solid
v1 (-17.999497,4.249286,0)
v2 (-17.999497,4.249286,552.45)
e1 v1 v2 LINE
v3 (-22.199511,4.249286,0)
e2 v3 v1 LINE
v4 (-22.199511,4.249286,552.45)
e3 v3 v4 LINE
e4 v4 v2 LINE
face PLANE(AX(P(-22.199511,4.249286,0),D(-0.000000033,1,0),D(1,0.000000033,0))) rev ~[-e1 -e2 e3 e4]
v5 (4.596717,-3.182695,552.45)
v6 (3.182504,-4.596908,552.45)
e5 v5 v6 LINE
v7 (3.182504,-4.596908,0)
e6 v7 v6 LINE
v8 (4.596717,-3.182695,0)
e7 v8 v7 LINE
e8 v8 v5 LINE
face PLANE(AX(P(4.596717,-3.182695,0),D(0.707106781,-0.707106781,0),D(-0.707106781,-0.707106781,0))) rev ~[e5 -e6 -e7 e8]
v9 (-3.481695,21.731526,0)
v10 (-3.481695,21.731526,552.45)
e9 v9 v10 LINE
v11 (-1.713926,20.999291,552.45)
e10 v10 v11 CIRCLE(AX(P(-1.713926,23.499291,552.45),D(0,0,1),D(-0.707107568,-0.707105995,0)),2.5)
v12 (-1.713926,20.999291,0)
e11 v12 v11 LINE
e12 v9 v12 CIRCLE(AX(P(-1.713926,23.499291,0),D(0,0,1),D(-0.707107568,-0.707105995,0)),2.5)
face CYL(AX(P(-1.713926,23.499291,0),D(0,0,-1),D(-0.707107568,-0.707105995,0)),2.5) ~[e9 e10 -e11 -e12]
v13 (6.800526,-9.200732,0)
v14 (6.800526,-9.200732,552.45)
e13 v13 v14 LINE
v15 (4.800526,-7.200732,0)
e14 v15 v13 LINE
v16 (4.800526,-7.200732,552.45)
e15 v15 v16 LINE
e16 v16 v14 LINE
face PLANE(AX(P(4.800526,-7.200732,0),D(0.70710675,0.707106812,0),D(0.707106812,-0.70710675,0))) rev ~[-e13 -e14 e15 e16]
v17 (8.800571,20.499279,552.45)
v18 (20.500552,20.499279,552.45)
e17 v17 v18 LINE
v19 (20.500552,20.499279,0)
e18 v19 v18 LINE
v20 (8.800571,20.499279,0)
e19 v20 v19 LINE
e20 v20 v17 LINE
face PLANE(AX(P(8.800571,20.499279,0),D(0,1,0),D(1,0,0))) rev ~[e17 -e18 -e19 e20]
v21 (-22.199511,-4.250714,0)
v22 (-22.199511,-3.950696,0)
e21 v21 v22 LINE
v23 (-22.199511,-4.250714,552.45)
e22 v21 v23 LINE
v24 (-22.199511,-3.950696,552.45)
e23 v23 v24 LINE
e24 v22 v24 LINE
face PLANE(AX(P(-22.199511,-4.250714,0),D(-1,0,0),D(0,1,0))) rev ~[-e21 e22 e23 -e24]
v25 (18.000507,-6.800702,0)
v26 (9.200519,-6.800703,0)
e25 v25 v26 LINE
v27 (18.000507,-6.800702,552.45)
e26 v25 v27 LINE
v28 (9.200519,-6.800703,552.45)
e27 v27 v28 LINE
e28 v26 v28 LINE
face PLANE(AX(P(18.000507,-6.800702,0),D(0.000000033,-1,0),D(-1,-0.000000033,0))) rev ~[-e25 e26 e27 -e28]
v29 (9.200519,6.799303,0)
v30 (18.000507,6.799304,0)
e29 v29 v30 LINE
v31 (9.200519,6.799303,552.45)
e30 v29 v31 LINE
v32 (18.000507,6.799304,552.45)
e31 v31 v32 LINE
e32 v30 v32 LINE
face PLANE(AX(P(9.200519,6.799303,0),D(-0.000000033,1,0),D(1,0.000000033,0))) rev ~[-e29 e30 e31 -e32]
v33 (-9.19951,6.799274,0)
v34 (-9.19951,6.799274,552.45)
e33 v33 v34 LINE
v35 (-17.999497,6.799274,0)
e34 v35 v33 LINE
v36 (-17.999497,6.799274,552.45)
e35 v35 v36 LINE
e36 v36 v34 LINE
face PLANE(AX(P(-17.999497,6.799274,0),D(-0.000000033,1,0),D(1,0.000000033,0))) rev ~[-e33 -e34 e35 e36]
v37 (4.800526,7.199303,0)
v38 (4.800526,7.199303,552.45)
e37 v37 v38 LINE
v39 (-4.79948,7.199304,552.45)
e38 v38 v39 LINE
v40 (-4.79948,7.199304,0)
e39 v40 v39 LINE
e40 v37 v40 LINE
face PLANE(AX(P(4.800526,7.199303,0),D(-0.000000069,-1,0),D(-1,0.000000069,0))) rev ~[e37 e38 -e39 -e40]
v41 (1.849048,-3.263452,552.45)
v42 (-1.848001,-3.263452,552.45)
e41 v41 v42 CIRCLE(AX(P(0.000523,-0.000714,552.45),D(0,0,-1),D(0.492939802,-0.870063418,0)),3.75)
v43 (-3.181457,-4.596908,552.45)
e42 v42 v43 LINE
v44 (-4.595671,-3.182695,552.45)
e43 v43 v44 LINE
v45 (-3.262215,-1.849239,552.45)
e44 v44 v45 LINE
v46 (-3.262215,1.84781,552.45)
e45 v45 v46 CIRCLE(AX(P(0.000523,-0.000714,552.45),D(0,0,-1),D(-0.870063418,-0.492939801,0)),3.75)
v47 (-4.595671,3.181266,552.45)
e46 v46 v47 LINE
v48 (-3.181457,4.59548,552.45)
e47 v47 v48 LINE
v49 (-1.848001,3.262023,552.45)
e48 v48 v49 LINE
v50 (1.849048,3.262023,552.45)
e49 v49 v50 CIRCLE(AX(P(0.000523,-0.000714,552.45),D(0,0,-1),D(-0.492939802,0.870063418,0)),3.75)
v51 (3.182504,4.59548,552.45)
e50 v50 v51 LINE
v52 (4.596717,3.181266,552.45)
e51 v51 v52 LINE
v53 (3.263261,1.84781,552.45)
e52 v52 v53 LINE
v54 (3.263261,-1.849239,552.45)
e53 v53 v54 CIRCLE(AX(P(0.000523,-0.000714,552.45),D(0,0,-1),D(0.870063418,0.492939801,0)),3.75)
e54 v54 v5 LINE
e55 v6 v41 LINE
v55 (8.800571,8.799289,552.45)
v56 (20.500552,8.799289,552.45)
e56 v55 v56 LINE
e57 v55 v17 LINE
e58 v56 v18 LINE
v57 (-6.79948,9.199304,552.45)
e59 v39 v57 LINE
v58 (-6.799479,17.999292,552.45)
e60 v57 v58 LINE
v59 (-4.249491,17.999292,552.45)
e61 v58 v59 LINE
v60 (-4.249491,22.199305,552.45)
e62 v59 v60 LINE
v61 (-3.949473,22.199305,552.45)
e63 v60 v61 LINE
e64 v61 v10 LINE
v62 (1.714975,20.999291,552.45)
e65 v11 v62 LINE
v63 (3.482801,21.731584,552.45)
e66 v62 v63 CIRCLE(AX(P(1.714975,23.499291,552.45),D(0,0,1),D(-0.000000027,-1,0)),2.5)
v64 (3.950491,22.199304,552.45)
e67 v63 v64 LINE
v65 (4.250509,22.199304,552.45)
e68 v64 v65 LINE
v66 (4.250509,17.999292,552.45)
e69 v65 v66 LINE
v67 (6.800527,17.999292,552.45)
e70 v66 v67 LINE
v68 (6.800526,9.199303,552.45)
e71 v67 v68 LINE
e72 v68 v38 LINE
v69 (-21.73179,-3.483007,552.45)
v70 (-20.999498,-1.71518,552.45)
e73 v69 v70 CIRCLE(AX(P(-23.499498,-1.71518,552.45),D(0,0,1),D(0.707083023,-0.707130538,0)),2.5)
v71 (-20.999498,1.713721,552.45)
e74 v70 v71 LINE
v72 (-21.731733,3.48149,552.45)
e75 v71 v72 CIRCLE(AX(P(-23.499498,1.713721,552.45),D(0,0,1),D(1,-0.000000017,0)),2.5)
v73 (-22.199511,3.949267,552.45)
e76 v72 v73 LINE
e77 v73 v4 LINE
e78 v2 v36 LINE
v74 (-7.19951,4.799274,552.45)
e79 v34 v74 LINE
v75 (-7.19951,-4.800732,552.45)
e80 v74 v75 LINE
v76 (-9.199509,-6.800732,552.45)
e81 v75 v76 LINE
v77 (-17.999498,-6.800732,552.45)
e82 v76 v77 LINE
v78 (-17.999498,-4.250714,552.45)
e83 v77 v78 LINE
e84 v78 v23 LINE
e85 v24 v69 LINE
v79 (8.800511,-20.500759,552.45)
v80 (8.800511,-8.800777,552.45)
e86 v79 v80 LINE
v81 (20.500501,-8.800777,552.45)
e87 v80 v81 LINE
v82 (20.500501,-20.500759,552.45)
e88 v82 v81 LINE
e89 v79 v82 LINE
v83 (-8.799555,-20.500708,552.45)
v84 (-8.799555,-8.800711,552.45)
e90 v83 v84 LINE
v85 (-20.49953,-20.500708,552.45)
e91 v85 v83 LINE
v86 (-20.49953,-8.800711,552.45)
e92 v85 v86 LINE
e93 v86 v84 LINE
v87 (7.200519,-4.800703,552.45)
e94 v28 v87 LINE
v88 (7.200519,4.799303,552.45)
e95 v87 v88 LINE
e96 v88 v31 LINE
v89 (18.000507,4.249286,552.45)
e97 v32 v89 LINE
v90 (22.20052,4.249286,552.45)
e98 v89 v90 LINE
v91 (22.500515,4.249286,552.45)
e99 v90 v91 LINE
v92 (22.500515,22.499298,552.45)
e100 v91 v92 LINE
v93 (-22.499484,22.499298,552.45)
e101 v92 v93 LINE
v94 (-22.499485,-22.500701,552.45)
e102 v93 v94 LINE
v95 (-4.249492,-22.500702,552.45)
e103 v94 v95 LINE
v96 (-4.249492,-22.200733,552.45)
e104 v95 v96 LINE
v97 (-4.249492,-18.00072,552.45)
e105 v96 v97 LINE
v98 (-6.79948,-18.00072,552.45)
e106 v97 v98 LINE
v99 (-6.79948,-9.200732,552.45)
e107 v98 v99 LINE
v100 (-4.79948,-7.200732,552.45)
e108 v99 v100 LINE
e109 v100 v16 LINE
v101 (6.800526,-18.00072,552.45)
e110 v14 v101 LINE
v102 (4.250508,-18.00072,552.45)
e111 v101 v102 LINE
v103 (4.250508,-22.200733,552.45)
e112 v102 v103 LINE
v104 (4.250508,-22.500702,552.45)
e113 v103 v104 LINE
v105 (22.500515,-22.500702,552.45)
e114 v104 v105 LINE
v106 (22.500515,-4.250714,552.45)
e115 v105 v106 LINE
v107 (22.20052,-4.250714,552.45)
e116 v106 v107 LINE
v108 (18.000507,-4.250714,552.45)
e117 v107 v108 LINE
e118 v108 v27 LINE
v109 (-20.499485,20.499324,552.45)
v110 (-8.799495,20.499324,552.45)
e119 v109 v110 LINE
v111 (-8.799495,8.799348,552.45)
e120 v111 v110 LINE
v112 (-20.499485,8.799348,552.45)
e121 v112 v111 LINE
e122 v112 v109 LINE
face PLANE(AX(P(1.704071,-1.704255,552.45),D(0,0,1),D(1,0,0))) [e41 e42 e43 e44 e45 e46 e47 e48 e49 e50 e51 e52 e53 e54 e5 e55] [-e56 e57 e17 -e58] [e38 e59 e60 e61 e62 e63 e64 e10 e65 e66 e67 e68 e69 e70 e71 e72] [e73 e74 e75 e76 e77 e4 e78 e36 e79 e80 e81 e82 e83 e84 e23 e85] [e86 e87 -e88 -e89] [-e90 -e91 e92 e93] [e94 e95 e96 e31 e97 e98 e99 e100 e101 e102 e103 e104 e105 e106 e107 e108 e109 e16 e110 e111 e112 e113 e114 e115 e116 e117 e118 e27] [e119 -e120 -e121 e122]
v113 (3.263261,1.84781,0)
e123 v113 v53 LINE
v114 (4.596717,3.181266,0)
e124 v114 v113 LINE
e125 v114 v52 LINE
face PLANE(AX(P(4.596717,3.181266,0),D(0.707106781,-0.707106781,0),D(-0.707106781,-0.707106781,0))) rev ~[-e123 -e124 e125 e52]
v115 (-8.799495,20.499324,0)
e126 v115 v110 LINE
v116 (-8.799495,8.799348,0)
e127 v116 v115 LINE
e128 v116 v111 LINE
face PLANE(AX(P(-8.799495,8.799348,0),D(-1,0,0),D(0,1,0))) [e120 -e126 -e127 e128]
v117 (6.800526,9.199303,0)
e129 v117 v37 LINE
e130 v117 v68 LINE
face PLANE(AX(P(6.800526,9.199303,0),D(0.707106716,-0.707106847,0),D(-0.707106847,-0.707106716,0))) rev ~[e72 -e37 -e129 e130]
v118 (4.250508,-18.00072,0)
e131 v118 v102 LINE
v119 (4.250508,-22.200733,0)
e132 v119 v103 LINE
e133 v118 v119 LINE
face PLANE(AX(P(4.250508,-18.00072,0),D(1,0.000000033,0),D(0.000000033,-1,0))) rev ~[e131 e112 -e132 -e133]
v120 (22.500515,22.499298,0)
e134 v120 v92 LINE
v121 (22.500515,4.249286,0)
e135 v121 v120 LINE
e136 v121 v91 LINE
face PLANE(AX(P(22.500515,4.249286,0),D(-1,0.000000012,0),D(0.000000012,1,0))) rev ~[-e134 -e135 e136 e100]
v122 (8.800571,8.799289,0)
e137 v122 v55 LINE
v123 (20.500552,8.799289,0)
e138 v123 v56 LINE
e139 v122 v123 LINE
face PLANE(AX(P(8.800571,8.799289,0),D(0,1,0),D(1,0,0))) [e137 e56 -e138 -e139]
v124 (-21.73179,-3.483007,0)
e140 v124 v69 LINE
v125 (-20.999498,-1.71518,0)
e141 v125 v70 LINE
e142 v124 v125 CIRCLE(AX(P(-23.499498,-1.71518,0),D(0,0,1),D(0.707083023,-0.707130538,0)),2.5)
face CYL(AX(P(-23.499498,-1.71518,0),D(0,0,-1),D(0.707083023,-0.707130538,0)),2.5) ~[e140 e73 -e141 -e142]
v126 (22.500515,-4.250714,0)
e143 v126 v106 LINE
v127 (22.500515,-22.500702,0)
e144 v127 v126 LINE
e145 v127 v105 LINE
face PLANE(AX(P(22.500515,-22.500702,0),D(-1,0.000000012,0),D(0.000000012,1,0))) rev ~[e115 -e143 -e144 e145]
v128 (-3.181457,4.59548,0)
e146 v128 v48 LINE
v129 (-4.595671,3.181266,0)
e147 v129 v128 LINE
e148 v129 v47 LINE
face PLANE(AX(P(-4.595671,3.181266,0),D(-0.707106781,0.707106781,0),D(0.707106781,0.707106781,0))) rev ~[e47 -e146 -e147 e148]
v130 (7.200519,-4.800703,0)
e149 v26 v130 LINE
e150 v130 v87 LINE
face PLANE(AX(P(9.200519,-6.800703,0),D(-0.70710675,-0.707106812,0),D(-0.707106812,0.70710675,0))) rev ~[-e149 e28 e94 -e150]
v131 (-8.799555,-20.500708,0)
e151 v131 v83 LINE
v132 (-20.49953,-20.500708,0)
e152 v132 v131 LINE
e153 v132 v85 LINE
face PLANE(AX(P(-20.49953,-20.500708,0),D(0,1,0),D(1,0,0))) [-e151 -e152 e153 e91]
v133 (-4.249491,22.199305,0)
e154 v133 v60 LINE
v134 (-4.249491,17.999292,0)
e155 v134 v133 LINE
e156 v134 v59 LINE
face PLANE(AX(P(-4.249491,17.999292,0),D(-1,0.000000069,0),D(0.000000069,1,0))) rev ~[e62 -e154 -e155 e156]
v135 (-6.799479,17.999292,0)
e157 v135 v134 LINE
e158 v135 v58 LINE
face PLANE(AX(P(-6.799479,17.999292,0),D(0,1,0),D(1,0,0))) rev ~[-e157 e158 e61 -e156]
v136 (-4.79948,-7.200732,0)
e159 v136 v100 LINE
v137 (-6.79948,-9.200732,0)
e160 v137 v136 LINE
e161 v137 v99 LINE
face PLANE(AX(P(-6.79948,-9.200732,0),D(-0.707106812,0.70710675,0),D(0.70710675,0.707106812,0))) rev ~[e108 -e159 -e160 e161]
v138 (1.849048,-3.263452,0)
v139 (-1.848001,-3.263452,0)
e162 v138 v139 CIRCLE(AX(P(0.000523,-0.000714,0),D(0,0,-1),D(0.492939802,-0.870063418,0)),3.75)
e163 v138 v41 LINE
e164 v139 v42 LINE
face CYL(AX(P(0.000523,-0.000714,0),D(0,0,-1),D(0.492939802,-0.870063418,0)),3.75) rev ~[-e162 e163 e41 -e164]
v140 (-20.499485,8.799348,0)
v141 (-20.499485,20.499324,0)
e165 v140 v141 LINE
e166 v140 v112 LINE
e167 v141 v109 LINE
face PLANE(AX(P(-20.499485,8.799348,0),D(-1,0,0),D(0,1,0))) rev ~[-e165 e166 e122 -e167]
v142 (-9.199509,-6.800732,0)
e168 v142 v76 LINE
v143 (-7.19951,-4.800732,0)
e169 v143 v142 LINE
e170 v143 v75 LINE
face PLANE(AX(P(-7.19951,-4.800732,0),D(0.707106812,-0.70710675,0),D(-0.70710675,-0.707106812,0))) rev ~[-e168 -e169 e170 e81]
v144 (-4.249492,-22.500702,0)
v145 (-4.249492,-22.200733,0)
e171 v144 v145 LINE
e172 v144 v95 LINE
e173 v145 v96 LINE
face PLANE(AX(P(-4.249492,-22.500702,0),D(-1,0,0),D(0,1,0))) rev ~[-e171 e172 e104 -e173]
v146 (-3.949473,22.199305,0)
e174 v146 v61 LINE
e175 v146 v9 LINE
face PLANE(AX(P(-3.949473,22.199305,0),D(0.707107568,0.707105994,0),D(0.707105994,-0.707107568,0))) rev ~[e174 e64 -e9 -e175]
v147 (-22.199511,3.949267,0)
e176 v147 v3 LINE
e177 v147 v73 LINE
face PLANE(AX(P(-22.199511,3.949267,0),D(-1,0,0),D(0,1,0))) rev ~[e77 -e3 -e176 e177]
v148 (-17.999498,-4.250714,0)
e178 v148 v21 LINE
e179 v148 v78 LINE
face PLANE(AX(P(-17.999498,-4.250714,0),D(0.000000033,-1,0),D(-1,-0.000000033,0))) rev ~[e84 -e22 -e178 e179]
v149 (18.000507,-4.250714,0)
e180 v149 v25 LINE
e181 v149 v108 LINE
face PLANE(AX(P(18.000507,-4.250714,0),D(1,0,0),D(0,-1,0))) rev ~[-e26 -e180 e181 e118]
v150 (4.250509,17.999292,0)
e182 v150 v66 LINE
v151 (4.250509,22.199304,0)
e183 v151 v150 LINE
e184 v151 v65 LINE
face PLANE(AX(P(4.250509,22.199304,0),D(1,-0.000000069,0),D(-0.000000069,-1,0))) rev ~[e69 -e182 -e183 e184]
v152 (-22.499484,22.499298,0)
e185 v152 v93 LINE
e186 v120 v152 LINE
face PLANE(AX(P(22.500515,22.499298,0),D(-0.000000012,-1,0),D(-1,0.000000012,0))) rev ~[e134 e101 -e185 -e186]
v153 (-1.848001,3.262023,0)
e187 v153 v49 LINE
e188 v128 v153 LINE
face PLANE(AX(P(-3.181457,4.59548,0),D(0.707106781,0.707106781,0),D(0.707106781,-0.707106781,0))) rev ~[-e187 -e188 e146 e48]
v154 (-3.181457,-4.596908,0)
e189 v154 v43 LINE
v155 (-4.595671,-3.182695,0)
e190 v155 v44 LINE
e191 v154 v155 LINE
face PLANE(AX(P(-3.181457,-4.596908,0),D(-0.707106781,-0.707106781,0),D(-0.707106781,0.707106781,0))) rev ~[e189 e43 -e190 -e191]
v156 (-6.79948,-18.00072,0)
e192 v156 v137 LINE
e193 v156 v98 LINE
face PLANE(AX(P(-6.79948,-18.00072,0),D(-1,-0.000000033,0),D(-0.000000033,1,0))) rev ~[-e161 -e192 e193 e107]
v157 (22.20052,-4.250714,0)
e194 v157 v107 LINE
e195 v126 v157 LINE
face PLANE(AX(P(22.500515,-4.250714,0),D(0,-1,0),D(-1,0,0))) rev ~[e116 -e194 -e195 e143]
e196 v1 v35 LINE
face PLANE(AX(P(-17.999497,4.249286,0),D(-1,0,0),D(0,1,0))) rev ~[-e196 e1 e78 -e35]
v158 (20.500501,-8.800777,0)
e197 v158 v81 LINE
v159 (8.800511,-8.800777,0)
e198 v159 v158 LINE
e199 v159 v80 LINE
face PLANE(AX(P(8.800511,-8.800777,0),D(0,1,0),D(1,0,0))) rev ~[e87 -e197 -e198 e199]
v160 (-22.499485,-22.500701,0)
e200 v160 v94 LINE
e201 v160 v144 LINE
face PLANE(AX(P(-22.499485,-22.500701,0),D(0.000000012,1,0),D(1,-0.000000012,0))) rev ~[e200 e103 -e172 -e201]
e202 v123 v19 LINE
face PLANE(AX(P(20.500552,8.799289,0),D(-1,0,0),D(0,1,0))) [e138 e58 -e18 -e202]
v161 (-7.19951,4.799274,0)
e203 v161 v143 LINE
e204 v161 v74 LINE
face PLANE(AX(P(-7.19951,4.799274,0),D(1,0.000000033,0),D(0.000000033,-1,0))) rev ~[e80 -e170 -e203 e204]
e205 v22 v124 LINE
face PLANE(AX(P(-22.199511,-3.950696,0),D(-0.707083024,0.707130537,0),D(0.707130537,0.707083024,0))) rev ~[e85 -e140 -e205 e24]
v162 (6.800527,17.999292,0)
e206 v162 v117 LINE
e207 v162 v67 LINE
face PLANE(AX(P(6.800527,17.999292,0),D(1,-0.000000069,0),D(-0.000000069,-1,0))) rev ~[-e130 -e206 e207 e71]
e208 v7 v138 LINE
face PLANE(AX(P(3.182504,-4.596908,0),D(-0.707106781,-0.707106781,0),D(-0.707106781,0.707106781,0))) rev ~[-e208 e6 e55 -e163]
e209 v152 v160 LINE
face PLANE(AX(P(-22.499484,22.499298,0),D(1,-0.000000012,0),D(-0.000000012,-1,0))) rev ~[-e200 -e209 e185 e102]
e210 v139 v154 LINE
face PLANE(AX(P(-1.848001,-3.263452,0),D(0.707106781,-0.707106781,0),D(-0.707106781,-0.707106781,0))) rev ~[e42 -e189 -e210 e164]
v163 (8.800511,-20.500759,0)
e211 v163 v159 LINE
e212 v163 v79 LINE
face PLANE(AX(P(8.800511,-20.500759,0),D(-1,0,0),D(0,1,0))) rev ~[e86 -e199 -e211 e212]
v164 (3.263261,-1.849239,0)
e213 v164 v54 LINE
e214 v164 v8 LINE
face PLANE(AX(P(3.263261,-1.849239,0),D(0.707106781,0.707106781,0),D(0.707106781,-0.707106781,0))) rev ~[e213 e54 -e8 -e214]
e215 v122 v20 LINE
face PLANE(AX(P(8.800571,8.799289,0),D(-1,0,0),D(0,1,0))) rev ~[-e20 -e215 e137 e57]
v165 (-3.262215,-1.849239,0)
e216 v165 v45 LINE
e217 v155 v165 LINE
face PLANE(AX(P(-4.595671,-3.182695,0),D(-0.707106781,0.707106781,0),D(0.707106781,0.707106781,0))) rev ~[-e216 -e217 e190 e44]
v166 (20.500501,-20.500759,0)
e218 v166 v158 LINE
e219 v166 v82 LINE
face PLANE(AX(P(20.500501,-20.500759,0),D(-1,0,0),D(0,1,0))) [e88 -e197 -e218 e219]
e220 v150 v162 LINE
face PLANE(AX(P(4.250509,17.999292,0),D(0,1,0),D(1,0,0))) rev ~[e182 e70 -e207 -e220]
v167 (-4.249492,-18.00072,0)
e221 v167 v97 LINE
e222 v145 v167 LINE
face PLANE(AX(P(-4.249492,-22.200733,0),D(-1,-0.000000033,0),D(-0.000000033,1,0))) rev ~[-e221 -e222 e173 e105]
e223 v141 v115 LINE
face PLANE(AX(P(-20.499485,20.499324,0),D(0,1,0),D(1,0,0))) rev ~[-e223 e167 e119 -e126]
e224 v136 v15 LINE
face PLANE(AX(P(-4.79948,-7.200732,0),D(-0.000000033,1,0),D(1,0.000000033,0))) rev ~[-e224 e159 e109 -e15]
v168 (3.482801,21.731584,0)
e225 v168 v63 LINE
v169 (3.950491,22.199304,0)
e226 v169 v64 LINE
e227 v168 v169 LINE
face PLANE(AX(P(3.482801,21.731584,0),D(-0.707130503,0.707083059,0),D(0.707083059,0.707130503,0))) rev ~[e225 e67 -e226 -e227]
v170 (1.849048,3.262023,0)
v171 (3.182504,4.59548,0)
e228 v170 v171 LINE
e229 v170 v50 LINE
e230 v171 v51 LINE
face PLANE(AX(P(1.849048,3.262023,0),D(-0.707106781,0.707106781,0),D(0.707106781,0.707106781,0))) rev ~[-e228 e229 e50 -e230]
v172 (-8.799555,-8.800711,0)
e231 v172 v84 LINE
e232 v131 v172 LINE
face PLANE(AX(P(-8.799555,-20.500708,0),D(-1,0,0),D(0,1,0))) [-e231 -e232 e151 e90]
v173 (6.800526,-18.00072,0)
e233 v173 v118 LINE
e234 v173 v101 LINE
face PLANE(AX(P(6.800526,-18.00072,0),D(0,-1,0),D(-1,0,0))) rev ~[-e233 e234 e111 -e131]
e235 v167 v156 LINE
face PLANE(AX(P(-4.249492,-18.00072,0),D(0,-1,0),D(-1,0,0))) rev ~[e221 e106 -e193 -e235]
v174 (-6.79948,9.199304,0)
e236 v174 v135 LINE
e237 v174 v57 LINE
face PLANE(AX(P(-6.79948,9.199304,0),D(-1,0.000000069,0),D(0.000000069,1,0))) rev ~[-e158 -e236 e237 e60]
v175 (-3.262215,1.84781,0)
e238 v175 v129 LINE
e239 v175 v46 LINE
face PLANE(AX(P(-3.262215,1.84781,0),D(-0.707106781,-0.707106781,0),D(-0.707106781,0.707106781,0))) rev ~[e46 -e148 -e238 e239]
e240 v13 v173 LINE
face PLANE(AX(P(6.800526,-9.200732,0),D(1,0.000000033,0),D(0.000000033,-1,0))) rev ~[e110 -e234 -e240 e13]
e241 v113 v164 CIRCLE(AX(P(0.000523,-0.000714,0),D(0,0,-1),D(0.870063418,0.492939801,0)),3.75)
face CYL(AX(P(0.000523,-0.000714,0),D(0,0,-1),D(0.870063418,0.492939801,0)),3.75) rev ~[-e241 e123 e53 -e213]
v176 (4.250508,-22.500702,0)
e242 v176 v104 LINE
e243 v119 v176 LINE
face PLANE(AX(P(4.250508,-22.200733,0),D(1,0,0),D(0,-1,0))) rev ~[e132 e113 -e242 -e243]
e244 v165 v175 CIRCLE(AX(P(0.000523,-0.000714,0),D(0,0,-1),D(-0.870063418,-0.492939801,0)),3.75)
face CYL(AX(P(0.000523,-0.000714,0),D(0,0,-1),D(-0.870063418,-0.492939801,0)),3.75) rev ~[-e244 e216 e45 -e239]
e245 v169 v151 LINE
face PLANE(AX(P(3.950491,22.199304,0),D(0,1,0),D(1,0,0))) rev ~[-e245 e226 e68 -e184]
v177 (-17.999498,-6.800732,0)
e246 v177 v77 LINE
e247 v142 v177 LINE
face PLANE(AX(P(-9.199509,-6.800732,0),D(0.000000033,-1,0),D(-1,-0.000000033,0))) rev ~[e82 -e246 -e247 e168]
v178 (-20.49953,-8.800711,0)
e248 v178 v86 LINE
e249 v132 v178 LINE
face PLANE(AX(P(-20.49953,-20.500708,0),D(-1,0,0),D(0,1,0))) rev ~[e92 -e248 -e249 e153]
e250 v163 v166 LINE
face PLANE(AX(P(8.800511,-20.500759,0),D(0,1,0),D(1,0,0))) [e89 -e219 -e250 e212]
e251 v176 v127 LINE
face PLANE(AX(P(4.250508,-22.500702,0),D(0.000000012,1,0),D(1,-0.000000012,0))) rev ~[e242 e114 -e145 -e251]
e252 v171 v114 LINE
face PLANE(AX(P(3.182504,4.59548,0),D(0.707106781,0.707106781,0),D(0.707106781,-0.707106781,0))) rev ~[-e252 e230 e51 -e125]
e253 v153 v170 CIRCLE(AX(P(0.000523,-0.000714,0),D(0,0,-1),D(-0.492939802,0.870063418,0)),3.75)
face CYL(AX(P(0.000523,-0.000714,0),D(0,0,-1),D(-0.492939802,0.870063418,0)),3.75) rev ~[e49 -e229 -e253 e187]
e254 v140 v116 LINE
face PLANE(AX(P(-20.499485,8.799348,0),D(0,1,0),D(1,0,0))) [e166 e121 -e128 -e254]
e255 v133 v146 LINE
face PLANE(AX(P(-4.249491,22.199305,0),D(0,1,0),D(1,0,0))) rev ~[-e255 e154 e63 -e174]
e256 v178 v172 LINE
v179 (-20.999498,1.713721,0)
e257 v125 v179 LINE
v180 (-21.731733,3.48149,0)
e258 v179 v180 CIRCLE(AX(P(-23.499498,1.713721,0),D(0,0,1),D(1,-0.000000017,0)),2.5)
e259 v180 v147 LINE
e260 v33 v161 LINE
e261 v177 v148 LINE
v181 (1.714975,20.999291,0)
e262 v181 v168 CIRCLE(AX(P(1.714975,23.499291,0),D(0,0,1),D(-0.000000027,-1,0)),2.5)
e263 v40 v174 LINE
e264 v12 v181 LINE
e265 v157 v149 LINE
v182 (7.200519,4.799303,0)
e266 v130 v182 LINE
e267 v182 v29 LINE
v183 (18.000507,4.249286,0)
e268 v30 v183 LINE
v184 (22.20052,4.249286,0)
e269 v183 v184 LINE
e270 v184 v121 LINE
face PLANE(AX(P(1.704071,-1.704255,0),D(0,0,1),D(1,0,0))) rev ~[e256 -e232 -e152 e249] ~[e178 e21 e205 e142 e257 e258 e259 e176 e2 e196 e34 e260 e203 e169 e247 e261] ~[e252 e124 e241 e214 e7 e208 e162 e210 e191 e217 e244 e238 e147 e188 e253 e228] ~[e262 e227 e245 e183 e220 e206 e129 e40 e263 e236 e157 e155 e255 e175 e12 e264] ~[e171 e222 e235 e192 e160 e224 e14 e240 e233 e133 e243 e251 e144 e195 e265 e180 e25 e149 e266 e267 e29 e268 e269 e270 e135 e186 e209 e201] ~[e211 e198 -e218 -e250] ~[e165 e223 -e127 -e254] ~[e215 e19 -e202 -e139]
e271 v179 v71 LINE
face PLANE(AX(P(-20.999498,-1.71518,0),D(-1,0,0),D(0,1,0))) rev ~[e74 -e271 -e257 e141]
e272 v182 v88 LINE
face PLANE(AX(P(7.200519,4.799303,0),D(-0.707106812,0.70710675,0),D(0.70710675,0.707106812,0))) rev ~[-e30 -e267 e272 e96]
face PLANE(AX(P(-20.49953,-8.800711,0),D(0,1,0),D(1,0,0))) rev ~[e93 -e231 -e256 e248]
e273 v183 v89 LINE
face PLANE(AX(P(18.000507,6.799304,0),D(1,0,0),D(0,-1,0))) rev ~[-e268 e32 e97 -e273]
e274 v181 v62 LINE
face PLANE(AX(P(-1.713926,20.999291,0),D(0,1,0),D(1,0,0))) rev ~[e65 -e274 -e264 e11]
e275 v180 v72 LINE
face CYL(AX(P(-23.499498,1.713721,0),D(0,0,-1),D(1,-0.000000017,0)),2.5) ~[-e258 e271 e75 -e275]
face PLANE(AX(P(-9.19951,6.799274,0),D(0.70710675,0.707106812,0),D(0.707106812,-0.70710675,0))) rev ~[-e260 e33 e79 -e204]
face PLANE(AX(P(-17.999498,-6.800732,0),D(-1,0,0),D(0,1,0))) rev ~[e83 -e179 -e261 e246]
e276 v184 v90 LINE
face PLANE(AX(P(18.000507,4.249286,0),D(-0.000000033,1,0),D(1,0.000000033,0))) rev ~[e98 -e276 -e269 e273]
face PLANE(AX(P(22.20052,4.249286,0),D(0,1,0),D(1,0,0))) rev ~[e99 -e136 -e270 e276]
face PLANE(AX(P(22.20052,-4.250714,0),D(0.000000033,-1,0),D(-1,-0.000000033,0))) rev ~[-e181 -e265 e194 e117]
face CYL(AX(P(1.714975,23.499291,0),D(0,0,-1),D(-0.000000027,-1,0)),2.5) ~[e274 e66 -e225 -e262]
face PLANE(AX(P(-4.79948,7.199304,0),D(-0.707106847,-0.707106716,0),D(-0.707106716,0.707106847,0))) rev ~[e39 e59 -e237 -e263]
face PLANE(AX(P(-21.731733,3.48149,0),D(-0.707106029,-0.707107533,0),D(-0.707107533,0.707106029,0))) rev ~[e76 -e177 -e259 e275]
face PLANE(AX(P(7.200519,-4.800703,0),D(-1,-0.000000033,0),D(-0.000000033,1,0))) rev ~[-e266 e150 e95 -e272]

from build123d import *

# Parameters (mm, degrees)
SKETCH1_W           = 11.699975178
SKETCH1_H           = 11.699996949
SKETCH1_W_2         = 11.699990436
SKETCH1_H_2         = 11.699981689
SKETCH1_W_3         = 11.699990437
SKETCH1_H_3         = 11.699975177
SKETCH1_W_4         = 11.699981689
SKETCH1_H_4         = 11.699990436
BOSS_EXTRUDE1_DEPTH = 552.45


with BuildPart() as part:
    # Sketch1 → Boss-Extrude1 (new body)
    with BuildSketch(Plane.XY):
        Polygon((22.500515052, 22.499297556), (-22.499484399, 22.499298105), (-22.499484948, -22.500701346), (-4.249491942, -22.500701568), (-4.249491942, -22.200733242), (-4.24949208, -18.000719999), (-6.799479919, -18.000719999), (-6.799480207, -9.200732353), (-4.799480391, -7.200732362), (4.800525817, -7.200732047), (6.8005258, -9.200731855), (6.800526088, -18.000720263), (4.250507877, -18.000720263), (4.250508015, -22.200733153), (4.250508015, -22.500701672), (22.500514502, -22.500701895), (22.500514725, -4.250714302), (22.200520351, -4.250714302), (18.000507108, -4.25071444), (18.000507108, -6.800702279), (9.200519462, -6.800702567), (7.200519471, -4.800702751), (7.200519156, 4.799303458), (9.200518964, 6.79930344), (18.000507424, 6.799303729), (18.000507424, 4.249285514), (22.200520261, 4.249285652), (22.500514829, 4.249285652), align=None)
        with BuildLine():
            Line((-4.249491247, 17.999291576), (-4.249490956, 22.199304807))
            Line((-4.249490956, 22.199304807), (-3.949472548, 22.199304807))
            Line((-3.949472548, 22.199304807), (-3.481695222, 21.73152644))
            ThreePointArc((-3.481695222, 21.73152644), (-2.670636178, 21.189593132), (-1.713926324, 20.999291428))
            Line((-1.713926324, 20.999291428), (1.714975167, 20.999291428))
            ThreePointArc((1.714975167, 20.999291428), (2.671722509, 21.189608628), (3.482801459, 21.731583767))
            Line((3.482801459, 21.731583767), (3.950490798, 22.199304487))
            Line((3.950490798, 22.199304487), (4.250509108, 22.199304487))
            Line((4.250509108, 22.199304487), (4.250508817, 17.999291575))
            Line((4.250508817, 17.999291575), (6.800527063, 17.999291575))
            Line((6.800527063, 17.999291575), (6.800526453, 9.199302988))
            Line((6.800526453, 9.199302988), (4.800526064, 7.199302969))
            Line((4.800526064, 7.199302969), (-4.799479817, 7.199303635))
            Line((-4.799479817, 7.199303635), (-6.799479854, 9.199304042))
            Line((-6.799479854, 9.199304042), (-6.799479244, 17.999291576))
            Line((-6.799479244, 17.999291576), (-4.249491247, 17.999291576))
        make_face(mode=Mode.SUBTRACT)
        with BuildLine():
            Line((-22.199510888, 4.249285566), (-17.999497356, 4.249285704))
            Line((-17.999497356, 4.249285704), (-17.999497356, 6.79927354))
            Line((-17.999497356, 6.79927354), (-9.199509947, 6.799273828))
            Line((-9.199509947, 6.799273828), (-7.199509956, 4.799274012))
            Line((-7.199509956, 4.799274012), (-7.199509641, -4.800732197))
            Line((-7.199509641, -4.800732197), (-9.199509449, -6.800732179))
            Line((-9.199509449, -6.800732179), (-17.99949762, -6.800732468))
            Line((-17.99949762, -6.800732468), (-17.99949762, -4.250714253))
            Line((-17.99949762, -4.250714253), (-22.199510799, -4.250714391))
            Line((-22.199510799, -4.250714391), (-22.199510799, -3.950696126))
            Line((-22.199510799, -3.950696126), (-21.731790056, -3.48300681))
            ThreePointArc((-21.731790056, -3.48300681), (-21.189814855, -2.671927844), (-20.999497617, -1.71518046))
            Line((-20.999497617, -1.71518046), (-20.999497617, 1.713721031))
            ThreePointArc((-20.999497617, 1.713721031), (-21.189799286, 2.670430863), (-21.731732544, 3.481489907))
            Line((-21.731732544, 3.481489907), (-22.199510888, 3.949267256))
            Line((-22.199510888, 3.949267256), (-22.199510888, 4.249285566))
        make_face(mode=Mode.SUBTRACT)
        with Locations((-14.649542346, -14.650709384)):
            Rectangle(SKETCH1_W, SKETCH1_H, mode=Mode.SUBTRACT)
        with Locations((14.65050626, -14.650767962)):
            Rectangle(SKETCH1_W_2, SKETCH1_H_2, mode=Mode.SUBTRACT)
        with BuildLine():
            Line((-3.181457266, -4.596908447), (-4.595670829, -3.182694885))
            Line((-4.595670829, -3.182694885), (-3.26221457, -1.849238626))
            ThreePointArc((-3.26221457, -1.849238626), (-3.749476751, -0.00071437), (-3.26221457, 1.847809887))
            Line((-3.26221457, 1.847809887), (-4.595670829, 3.181266146))
            Line((-4.595670829, 3.181266146), (-3.181457266, 4.595479708))
            Line((-3.181457266, 4.595479708), (-1.848001007, 3.262023449))
            ThreePointArc((-1.848001007, 3.262023449), (0.000523249, 3.74928563), (1.849047505, 3.262023449))
            Line((1.849047505, 3.262023449), (3.182503764, 4.595479708))
            Line((3.182503764, 4.595479708), (4.596717327, 3.181266146))
            Line((4.596717327, 3.181266146), (3.263261068, 1.847809887))
            ThreePointArc((3.263261068, 1.847809887), (3.750523249, -0.00071437), (3.263261068, -1.849238626))
            Line((3.263261068, -1.849238626), (4.596717327, -3.182694885))
            Line((4.596717327, -3.182694885), (3.182503764, -4.596908447))
            Line((3.182503764, -4.596908447), (1.849047505, -3.263452188))
            ThreePointArc((1.849047505, -3.263452188), (0.000523249, -3.75071437), (-1.848001007, -3.263452188))
            Line((-1.848001007, -3.263452188), (-3.181457266, -4.596908447))
        make_face(mode=Mode.SUBTRACT)
        with Locations((-14.64949028, 14.649335967)):
            Rectangle(SKETCH1_W_3, SKETCH1_H_3, mode=Mode.SUBTRACT)
        with Locations((14.650561583, 14.6492839)):
            Rectangle(SKETCH1_W_4, SKETCH1_H_4, mode=Mode.SUBTRACT)
    extrude(amount=BOSS_EXTRUDE1_DEPTH)


solid = part.part
